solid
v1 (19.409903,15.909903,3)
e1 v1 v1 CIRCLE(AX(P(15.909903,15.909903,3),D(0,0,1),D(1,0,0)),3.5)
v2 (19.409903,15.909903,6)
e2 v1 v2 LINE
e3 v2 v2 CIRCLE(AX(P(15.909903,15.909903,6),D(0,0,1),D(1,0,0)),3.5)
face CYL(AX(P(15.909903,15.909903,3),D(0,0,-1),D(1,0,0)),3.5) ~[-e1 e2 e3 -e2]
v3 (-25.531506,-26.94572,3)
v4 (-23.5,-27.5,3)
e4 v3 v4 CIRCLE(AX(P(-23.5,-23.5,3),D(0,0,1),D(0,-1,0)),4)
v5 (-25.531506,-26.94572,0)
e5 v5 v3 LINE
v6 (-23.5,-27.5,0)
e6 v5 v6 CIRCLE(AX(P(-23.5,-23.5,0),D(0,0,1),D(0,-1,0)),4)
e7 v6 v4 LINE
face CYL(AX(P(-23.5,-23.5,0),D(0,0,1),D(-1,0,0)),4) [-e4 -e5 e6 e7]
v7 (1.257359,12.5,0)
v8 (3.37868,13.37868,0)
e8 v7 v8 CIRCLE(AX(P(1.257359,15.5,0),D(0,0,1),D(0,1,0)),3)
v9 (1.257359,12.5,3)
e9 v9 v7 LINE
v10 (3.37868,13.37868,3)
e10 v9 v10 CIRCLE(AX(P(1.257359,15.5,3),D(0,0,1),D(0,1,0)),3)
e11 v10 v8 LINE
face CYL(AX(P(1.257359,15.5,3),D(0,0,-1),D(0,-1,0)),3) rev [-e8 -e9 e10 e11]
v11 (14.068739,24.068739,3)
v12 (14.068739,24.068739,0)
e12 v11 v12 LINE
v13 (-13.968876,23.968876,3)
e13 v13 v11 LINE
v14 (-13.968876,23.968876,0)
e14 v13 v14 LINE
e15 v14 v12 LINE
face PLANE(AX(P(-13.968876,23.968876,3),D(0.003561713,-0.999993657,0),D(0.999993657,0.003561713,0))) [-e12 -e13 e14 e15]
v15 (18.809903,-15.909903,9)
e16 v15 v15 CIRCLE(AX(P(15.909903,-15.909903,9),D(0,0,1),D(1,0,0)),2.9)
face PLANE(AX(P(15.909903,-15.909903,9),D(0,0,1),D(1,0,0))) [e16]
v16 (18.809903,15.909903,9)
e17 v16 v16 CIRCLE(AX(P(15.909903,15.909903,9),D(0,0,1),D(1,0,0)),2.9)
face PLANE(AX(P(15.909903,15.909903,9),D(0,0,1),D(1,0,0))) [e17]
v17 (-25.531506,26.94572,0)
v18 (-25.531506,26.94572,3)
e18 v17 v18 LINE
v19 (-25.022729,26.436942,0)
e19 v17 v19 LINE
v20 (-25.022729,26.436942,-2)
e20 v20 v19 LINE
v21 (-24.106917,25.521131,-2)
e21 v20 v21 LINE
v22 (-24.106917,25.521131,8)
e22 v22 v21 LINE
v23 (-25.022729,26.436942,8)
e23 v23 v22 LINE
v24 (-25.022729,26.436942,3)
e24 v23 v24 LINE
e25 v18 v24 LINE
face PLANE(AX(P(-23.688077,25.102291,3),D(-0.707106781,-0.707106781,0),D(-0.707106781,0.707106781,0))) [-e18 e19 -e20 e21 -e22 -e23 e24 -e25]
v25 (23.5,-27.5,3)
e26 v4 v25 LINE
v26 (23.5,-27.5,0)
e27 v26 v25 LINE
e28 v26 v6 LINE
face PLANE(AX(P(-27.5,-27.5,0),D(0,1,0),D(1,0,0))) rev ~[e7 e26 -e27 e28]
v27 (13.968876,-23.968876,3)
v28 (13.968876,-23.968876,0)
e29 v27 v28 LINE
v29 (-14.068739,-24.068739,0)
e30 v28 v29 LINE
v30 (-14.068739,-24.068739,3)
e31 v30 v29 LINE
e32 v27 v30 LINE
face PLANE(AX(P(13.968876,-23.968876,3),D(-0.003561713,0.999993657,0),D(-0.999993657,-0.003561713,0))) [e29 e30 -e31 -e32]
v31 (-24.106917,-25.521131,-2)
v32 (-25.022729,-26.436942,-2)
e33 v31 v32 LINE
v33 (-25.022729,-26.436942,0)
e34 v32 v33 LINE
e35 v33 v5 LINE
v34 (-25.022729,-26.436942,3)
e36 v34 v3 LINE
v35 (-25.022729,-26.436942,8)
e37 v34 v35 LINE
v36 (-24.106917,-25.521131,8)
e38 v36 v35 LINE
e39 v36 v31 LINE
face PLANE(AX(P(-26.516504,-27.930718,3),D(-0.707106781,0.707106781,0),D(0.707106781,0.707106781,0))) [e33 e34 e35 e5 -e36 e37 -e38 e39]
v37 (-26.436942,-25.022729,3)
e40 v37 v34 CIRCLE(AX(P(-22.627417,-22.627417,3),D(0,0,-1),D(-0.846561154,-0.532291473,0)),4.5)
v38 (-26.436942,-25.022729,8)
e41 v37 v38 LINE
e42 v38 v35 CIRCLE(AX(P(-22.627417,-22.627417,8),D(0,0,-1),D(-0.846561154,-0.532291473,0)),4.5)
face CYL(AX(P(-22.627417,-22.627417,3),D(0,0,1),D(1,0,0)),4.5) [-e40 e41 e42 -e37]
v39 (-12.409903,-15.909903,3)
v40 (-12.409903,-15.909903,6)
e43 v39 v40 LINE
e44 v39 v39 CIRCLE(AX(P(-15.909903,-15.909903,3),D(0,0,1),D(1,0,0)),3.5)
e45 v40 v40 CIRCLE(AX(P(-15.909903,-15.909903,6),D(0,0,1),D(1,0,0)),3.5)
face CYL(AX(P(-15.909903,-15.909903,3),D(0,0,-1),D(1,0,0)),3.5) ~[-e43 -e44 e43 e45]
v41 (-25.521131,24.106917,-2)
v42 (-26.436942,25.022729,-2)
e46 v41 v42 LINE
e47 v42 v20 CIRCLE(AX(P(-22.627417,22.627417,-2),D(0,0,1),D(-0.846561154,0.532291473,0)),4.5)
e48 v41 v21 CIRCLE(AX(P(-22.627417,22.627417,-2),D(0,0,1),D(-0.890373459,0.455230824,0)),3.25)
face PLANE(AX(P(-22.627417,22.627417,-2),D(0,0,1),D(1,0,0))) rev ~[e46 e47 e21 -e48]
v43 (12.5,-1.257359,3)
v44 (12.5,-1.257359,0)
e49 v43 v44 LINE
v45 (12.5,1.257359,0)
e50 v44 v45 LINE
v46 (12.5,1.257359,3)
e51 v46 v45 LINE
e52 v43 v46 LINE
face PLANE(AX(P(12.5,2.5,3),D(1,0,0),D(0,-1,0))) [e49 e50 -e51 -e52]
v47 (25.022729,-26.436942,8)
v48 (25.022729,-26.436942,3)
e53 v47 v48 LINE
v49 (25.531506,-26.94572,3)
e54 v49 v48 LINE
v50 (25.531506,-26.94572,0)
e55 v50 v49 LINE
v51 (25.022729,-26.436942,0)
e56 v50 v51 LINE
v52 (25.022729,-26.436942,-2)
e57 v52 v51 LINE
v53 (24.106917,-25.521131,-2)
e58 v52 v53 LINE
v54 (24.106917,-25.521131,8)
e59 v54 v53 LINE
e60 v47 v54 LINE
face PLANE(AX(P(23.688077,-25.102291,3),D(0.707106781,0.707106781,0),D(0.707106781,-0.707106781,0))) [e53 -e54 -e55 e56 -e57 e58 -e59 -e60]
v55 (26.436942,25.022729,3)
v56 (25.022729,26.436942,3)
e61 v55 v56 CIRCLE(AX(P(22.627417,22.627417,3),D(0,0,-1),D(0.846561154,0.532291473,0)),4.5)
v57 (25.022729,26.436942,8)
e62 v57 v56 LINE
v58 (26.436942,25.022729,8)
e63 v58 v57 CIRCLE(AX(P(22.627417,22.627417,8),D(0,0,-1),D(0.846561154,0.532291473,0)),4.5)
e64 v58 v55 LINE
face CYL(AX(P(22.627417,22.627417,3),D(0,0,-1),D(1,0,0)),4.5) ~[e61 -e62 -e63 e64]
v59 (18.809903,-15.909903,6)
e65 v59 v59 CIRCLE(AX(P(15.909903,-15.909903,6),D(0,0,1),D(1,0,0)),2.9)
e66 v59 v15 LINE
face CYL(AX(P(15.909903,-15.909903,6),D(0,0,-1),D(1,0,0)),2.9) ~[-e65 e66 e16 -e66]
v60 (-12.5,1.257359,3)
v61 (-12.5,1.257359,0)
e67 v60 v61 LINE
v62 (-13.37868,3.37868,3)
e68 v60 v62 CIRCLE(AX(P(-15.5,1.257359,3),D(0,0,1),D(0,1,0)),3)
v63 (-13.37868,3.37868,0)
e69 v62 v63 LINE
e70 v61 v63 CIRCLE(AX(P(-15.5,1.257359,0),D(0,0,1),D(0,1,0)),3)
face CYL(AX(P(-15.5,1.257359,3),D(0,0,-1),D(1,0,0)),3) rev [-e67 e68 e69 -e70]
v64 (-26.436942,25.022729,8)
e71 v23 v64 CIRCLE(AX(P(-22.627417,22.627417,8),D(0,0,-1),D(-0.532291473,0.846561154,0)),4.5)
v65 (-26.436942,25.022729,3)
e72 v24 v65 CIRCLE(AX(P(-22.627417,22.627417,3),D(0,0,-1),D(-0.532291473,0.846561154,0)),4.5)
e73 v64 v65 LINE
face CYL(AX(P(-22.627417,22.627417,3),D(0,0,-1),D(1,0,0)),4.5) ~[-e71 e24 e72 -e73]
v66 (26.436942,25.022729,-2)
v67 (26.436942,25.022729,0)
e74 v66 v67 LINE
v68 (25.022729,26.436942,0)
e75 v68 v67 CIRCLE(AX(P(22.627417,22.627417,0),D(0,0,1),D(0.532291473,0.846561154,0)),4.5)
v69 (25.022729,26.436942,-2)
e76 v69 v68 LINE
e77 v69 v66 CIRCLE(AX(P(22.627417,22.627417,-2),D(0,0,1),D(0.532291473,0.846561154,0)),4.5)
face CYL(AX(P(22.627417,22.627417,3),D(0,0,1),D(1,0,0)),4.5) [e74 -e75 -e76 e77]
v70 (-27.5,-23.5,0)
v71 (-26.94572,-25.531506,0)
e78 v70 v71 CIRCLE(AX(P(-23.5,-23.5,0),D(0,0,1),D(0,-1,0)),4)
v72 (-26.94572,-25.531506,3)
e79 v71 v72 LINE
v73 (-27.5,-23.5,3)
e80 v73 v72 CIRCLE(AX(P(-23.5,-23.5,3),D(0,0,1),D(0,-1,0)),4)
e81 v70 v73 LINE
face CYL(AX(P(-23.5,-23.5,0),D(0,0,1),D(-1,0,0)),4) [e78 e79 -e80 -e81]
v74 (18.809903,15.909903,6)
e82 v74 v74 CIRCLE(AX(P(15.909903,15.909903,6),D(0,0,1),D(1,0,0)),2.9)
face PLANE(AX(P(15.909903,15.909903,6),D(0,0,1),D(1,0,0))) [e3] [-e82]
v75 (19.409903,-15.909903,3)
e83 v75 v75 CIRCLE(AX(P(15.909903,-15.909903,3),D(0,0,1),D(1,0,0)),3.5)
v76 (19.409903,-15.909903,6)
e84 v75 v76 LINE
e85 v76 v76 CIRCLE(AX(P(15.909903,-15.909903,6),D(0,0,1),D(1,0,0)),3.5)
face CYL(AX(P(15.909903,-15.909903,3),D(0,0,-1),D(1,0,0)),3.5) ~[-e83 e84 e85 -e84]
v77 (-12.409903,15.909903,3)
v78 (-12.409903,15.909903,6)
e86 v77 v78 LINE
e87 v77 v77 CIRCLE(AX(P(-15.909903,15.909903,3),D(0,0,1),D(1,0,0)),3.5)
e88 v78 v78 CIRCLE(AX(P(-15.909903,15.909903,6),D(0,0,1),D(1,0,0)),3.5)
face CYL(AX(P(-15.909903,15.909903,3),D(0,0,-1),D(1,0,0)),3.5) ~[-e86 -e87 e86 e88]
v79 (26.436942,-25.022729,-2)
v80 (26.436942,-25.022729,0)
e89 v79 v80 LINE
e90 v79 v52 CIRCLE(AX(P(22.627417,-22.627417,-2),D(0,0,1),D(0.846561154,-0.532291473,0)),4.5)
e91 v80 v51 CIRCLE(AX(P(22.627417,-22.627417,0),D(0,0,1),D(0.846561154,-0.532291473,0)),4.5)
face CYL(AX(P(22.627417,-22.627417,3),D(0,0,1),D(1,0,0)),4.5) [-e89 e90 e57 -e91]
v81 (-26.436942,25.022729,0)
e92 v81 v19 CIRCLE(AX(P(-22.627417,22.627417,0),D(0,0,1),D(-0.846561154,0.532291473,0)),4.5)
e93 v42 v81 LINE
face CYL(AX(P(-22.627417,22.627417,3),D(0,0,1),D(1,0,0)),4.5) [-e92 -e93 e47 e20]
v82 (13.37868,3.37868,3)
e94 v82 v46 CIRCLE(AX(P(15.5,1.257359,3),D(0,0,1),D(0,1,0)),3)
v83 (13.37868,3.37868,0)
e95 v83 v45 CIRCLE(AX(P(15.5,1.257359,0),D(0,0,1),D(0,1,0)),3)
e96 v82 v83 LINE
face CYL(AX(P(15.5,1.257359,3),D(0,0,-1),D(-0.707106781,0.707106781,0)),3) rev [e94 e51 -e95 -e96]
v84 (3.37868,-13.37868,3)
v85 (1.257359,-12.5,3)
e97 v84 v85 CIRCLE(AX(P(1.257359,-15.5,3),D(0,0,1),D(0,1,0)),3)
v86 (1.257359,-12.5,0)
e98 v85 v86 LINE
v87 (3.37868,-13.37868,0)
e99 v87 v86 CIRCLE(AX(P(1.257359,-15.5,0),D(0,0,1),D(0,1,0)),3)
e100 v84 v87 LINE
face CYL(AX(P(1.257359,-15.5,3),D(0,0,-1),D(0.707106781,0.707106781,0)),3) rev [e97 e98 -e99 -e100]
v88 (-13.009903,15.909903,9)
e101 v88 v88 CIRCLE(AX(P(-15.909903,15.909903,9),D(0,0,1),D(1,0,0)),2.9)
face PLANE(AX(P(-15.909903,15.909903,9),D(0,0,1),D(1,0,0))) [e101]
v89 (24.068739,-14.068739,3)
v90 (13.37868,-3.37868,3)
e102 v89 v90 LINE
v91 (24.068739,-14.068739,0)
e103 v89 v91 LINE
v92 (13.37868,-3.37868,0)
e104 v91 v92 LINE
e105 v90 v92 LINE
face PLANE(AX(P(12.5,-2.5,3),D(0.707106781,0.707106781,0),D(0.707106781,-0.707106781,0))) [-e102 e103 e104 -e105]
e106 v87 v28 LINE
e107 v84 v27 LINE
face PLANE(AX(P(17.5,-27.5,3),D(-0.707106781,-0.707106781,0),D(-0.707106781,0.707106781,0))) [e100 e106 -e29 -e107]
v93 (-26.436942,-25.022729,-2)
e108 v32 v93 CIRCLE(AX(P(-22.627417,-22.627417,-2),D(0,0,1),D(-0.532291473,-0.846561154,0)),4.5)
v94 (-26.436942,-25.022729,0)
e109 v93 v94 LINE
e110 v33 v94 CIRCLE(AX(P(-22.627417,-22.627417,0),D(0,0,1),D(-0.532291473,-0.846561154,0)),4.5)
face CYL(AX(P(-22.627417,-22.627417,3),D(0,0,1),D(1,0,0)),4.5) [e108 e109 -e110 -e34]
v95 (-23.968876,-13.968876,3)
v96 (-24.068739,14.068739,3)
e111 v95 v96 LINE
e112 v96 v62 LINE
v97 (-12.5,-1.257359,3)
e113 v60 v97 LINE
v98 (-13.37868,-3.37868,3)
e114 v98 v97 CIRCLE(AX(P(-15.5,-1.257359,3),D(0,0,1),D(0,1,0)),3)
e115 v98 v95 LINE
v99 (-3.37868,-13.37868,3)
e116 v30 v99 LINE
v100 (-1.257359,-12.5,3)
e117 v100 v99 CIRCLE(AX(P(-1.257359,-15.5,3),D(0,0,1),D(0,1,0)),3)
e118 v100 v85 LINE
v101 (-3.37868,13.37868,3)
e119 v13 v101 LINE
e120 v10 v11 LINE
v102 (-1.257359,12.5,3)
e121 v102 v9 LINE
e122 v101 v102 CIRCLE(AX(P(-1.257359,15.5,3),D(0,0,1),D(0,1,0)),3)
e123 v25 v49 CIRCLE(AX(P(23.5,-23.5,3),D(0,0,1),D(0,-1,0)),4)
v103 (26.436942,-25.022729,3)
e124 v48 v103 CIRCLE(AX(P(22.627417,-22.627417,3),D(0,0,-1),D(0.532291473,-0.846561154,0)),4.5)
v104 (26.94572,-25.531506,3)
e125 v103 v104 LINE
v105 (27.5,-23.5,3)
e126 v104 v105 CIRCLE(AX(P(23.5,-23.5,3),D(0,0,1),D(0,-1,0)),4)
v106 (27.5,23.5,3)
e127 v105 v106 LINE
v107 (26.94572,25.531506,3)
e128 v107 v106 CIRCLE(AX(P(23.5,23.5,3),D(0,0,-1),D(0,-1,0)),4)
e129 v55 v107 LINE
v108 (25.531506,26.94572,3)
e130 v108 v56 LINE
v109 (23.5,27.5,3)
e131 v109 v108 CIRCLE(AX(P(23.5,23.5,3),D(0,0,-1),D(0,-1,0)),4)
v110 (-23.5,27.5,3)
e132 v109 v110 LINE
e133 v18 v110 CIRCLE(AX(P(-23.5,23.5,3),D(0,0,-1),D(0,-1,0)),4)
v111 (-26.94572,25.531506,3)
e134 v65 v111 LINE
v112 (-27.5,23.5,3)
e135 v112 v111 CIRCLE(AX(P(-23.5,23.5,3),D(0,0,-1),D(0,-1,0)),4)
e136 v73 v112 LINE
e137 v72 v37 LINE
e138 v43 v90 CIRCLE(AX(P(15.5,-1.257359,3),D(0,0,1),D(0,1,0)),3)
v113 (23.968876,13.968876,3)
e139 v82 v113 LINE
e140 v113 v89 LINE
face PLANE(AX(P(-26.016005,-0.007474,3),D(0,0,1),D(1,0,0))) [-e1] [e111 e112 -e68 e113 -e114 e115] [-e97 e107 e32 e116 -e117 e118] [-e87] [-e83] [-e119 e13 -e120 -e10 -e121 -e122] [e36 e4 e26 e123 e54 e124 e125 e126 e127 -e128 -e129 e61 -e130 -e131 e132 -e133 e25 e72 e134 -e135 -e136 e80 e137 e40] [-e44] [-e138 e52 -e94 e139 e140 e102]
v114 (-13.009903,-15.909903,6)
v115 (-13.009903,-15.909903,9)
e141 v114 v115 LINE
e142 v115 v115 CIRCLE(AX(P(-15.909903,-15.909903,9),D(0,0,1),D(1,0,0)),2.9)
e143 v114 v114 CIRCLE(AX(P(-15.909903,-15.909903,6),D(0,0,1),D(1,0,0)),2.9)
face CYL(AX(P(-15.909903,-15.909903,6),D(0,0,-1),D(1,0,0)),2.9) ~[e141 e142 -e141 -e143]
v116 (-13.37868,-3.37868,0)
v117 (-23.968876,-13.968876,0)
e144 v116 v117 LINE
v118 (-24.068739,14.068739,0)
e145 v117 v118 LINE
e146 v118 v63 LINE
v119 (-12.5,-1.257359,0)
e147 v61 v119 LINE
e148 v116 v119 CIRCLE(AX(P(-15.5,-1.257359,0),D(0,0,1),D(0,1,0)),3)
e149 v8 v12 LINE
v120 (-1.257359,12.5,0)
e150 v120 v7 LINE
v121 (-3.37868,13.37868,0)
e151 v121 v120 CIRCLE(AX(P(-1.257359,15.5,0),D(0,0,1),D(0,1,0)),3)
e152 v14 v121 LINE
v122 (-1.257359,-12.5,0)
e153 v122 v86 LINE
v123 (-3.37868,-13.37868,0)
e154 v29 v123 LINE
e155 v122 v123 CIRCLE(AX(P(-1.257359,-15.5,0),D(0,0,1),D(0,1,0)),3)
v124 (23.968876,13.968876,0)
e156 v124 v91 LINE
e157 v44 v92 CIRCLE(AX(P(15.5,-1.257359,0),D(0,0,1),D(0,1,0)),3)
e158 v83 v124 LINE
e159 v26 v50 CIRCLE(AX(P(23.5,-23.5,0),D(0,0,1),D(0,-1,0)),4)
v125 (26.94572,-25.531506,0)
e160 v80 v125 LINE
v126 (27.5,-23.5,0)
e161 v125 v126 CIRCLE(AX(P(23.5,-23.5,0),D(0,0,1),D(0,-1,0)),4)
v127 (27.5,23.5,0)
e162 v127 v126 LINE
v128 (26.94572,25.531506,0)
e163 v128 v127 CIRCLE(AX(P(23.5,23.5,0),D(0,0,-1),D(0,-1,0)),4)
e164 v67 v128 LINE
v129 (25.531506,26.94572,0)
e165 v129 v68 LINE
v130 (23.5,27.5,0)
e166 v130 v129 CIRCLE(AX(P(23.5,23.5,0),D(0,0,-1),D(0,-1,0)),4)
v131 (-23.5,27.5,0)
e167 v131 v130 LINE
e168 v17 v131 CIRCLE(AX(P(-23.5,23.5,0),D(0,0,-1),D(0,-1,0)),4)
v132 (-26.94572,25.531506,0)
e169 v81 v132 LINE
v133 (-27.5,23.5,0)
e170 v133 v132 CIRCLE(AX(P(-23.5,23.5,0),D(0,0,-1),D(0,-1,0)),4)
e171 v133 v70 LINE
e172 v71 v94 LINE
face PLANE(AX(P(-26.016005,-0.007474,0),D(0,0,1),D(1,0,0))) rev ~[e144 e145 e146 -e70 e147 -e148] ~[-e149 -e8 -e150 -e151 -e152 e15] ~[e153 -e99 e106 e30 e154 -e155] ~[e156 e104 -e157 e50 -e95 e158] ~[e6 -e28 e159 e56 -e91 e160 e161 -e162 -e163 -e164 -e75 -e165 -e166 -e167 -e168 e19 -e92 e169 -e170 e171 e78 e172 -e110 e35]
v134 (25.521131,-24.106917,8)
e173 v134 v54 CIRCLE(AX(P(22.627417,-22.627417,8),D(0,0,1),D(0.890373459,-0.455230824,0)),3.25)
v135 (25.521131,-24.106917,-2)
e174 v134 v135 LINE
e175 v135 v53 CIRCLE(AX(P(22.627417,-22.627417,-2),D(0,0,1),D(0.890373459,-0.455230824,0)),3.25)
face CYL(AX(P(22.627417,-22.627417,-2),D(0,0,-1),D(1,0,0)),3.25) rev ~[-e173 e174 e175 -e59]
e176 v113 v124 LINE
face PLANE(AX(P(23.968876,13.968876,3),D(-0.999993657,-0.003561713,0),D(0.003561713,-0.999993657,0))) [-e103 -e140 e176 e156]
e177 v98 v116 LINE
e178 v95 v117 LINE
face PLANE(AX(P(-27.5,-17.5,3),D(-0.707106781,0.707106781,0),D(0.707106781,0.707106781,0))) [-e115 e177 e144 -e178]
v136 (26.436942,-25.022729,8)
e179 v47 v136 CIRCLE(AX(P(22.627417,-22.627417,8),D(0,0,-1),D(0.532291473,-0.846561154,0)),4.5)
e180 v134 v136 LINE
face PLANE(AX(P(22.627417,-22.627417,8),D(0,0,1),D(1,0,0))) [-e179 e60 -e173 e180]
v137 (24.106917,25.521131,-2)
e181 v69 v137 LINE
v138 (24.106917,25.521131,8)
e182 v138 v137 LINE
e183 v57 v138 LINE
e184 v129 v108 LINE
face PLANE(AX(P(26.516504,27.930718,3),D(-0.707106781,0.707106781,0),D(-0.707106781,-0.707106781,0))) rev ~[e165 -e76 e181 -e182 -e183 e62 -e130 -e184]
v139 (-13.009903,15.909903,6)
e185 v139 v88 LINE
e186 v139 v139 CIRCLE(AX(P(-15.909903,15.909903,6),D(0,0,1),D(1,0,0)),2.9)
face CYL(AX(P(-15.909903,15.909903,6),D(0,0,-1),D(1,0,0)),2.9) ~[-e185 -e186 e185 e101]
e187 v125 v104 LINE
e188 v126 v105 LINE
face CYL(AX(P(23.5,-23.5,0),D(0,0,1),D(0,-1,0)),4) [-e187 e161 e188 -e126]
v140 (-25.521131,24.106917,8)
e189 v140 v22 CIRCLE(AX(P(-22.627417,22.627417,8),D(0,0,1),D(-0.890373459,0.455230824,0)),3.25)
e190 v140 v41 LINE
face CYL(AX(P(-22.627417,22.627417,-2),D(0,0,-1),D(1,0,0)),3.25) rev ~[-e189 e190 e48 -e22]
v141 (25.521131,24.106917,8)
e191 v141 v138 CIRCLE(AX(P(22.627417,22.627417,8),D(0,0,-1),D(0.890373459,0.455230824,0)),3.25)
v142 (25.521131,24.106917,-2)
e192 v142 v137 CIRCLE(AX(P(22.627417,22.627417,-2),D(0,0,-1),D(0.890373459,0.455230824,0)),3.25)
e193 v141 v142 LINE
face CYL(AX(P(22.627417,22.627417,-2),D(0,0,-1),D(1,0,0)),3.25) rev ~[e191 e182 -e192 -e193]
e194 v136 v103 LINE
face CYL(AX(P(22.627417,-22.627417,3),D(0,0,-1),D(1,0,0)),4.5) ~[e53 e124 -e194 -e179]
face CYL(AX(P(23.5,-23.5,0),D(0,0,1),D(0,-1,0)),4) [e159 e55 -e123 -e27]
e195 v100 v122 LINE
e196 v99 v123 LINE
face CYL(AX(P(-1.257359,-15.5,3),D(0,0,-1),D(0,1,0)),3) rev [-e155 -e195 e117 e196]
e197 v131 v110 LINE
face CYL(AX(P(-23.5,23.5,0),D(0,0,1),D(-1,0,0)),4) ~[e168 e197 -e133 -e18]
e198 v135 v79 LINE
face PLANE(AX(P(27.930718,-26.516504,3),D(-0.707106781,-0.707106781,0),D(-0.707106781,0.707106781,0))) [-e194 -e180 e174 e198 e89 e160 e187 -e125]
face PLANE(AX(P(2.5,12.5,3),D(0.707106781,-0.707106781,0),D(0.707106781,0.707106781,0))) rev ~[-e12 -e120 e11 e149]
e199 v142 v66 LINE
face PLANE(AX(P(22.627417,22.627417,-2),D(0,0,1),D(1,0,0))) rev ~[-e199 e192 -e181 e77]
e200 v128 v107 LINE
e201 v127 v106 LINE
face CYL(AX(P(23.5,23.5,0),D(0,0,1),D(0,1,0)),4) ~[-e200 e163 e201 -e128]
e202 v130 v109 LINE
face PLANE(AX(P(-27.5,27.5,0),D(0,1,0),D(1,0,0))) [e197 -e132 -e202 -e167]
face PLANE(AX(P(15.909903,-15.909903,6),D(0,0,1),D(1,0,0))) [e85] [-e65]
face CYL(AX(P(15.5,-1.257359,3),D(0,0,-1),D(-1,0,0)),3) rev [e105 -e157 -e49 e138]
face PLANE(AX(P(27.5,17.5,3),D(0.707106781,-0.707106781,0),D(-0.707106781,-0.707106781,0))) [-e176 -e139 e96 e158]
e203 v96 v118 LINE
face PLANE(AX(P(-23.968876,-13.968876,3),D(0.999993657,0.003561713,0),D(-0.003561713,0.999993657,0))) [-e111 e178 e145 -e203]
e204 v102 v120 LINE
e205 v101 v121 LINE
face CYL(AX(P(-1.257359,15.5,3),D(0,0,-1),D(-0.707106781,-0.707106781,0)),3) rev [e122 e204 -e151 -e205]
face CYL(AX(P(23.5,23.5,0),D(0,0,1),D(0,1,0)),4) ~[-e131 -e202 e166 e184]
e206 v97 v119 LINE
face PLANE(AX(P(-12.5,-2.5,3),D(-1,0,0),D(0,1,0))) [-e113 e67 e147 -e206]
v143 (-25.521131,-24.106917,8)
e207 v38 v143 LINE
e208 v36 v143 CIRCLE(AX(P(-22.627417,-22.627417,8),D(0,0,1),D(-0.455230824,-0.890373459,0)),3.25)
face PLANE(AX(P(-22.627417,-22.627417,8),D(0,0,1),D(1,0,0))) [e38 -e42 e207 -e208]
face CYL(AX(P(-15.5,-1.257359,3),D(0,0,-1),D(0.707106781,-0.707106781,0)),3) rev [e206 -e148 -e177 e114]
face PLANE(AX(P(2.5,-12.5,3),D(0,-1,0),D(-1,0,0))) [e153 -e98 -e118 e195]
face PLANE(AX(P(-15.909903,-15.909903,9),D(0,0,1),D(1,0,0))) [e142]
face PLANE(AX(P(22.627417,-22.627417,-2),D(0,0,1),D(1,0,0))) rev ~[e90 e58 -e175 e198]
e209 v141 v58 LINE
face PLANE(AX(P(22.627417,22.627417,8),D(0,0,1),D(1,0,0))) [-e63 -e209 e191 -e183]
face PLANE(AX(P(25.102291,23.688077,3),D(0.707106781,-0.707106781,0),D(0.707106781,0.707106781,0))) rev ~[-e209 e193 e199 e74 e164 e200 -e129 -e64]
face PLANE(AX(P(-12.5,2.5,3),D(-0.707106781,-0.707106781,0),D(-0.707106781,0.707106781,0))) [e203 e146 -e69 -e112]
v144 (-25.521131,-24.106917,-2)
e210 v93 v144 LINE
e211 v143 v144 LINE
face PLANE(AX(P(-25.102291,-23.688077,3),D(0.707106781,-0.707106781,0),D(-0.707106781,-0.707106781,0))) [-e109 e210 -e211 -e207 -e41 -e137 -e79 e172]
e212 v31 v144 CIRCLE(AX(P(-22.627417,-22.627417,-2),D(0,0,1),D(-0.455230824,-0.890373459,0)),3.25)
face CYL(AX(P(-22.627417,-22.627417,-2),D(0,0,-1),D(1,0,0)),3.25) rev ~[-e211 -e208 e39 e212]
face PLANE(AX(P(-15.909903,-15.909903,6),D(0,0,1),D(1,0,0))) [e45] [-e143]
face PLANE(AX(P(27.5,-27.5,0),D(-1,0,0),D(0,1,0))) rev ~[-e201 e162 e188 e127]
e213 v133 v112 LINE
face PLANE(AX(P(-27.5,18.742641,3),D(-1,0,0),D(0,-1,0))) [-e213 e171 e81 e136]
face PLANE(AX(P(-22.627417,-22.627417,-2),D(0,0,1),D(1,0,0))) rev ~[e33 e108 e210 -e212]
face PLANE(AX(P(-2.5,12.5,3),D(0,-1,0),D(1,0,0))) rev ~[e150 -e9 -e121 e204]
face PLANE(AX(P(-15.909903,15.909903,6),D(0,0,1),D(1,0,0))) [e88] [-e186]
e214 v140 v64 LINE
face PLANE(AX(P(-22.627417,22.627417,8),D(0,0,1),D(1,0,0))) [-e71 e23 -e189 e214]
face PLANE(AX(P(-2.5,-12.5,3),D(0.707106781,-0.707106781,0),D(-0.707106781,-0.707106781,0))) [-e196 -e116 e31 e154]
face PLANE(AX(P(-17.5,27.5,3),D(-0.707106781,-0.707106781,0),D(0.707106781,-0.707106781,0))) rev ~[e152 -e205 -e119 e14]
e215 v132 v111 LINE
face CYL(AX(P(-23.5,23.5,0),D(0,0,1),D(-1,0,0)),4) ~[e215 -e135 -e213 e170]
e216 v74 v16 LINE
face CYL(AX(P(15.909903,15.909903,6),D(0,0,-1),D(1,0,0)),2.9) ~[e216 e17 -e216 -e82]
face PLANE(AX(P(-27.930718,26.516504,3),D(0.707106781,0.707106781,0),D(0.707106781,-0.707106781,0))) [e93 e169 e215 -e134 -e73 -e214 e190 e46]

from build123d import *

# Parameters (mm, degrees)
F0_W      = 55
F0_H      = 55
F1_DEPTH  = 3
F2_R      = 3.5
F3_DEPTH  = 3
F4_R      = 2.9
F5_DEPTH  = 3
F6_R      = 4.5
F7_DEPTH  = 5
F8_R      = 3.25
F9_DEPTH  = 25
F10_R     = 4
F12_DEPTH = 25
F13_R     = 3
F15_DEPTH = 3
F17_DEPTH = 20


with BuildPart() as f1:
    # F0 (on Top) → F1 (new body)
    with BuildSketch(Plane.XY):
        Rectangle(F0_W, F0_H)
    extrude(amount=F1_DEPTH)

    # F2 (on face) → F3 (join)
    with BuildSketch(Plane.XY.offset(3)):
        with Locations((-15.9099025767, 15.9099025767)):
            Circle(F2_R)
        with Locations((15.9099025767, 15.9099025767)):
            Circle(F2_R)
        with Locations((-15.9099025767, -15.9099025767)):
            Circle(F2_R)
        with Locations((15.9099025767, -15.9099025767)):
            Circle(F2_R)
    extrude(amount=F3_DEPTH)

    # F4 (on face) → F5 (join)
    with BuildSketch(Plane.XY.offset(6)):
        with Locations((-15.9099025767, 15.9099025767)):
            Circle(F4_R)
        with Locations((15.9099025767, 15.9099025767)):
            Circle(F4_R)
        with Locations((-15.9099025767, -15.9099025767)):
            Circle(F4_R)
        with Locations((15.9099025767, -15.9099025767)):
            Circle(F4_R)
    extrude(amount=F5_DEPTH)

    # F6 (on face) → F7 (join, symmetric)
    with BuildSketch(Plane.XY.offset(3)):
        with Locations((-22.627416998, 22.627416998)):
            Circle(F6_R)
        with Locations((22.627416998, 22.627416998)):
            Circle(F6_R)
        with Locations((22.627416998, -22.627416998)):
            Circle(F6_R)
        with Locations((-22.627416998, -22.627416998)):
            Circle(F6_R)
    extrude(amount=F7_DEPTH, both=True)

    # F8 (on face) → F9 (cut, symmetric)
    with BuildSketch(Plane(origin=(0, 0, -2), x_dir=(1, 0, 0), z_dir=(0, 0, -1))):
        with Locations((-22.627416998, 22.627416998)):
            Circle(F8_R)
        with Locations((22.627416998, 22.627416998)):
            Circle(F8_R)
        with Locations((-22.627416998, -22.627416998)):
            Circle(F8_R)
        with Locations((22.627416998, -22.627416998)):
            Circle(F8_R)
    extrude(amount=F9_DEPTH, both=True, mode=Mode.SUBTRACT)

    # F10
    f10_edges = [f1.edges().sort_by_distance(p)[0] for p in [
        (27.5, -27.5, 1.5),
        (-27.5, -27.5, 1.5),
        (-27.5, 27.5, 1.5),
        (27.5, 27.5, 1.5),
    ]]
    fillet(f10_edges, radius=F10_R)

    # F11 (on face) → F12 (cut, symmetric)
    with BuildSketch(Plane.XY.offset(3)):
        Polygon((-12.5, 2.5), (-27.5, 17.5), (-27.5, -17.5), (-12.5, -2.5), align=None)
        Polygon((-2.5, -12.5), (-17.5, -27.5), (17.5, -27.5), (2.5, -12.5), align=None)
        Polygon((12.5, -2.5), (27.5, -17.5), (27.5, 17.5), (12.5, 2.5), align=None)
        Polygon((2.5, 12.5), (17.5, 27.5), (-17.5, 27.5), (-2.5, 12.5), align=None)
    extrude(amount=F12_DEPTH, both=True, mode=Mode.SUBTRACT)

    # F13
    f13_edges = [f1.edges().sort_by_distance(p)[0] for p in [
        (27.5, 17.5, 1.5),
        (12.5, 2.5, 1.5),
        (27.5, -17.5, 1.5),
        (17.5, -27.5, 1.5),
        (-17.5, -27.5, 1.5),
        (-2.5, -12.5, 1.5),
        (2.5, -12.5, 1.5),
        (-27.5, -17.5, 1.5),
        (-12.5, -2.5, 1.5),
        (-12.5, 2.5, 1.5),
        (-27.5, 17.5, 1.5),
        (-17.5, 27.5, 1.5),
        (-2.5, 12.5, 1.5),
        (2.5, 12.5, 1.5),
        (17.5, 27.5, 1.5),
        (12.5, -2.5, 1.5),
    ]]
    fillet(f13_edges, radius=F13_R)

    # F14 (on face) → F15 (join)
    with BuildSketch(Plane.XY.offset(3)):
        with BuildLine():
            ThreePointArc((-26.6213203436, 16.6213203436), (-27.2716385975, 17.59459039), (-27.5, 18.7426406871))
            Line((-27.5, 18.7426406871), (-27.5, -18.7426406871))
            ThreePointArc((-27.5, -18.7426406871), (-27.2716385975, -17.59459039), (-26.6213203436, -16.6213203436))
            Line((-26.6213203436, -16.6213203436), (-23.9688763441, -13.9688763441))
            Line((-23.9688763441, -13.9688763441), (-24.0687389298, 14.0687389298))
            Line((-24.0687389298, 14.0687389298), (-26.6213203436, 16.6213203436))
        make_face()
        with BuildLine():
            Line((18.7426406871, 27.5), (-18.7426406871, 27.5))
            ThreePointArc((-18.7426406871, 27.5), (-17.59459039, 27.2716385975), (-16.6213203436, 26.6213203436))
            Line((-16.6213203436, 26.6213203436), (-13.9688763441, 23.9688763441))
            Line((-13.9688763441, 23.9688763441), (14.0687389298, 24.0687389298))
            Line((14.0687389298, 24.0687389298), (16.6213203436, 26.6213203436))
            ThreePointArc((16.6213203436, 26.6213203436), (17.59459039, 27.2716385975), (18.7426406871, 27.5))
        make_face()
        with BuildLine():
            Line((27.5, -18.7426406871), (27.5, 18.7426406871))
            ThreePointArc((27.5, 18.7426406871), (27.2716385975, 17.59459039), (26.6213203436, 16.6213203436))
            Line((26.6213203436, 16.6213203436), (23.9688763441, 13.9688763441))
            Line((23.9688763441, 13.9688763441), (24.0687389298, -14.0687389298))
            Line((24.0687389298, -14.0687389298), (26.6213203436, -16.6213203436))
            ThreePointArc((26.6213203436, -16.6213203436), (27.2716385975, -17.59459039), (27.5, -18.7426406871))
        make_face()
        with BuildLine():
            ThreePointArc((-16.6213203436, -26.6213203436), (-17.59459039, -27.2716385975), (-18.7426406871, -27.5))
            Line((-18.7426406871, -27.5), (18.7426406871, -27.5))
            ThreePointArc((18.7426406871, -27.5), (17.59459039, -27.2716385975), (16.6213203436, -26.6213203436))
            Line((16.6213203436, -26.6213203436), (13.9688763441, -23.9688763441))
            Line((13.9688763441, -23.9688763441), (-14.0687389298, -24.0687389298))
            Line((-14.0687389298, -24.0687389298), (-16.6213203436, -26.6213203436))
        make_face()
    extrude(amount=-F15_DEPTH)

    # F16 (on face) → F17 (cut, symmetric)
    with BuildSketch(Plane.XY.offset(3)):
        Polygon((-27.9307178569, 26.5165042945), (-25.1022907321, 23.6880771697), (-23.6880771697, 25.1022907321), (-26.5165042945, 27.9307178569), align=None)
        Polygon((-23.6880771697, -25.1022907321), (-25.1022907321, -23.6880771697), (-27.9307178569, -26.5165042945), (-26.5165042945, -27.9307178569), align=None)
        Polygon((25.1022907321, -23.6880771697), (23.6880771697, -25.1022907321), (26.5165042945, -27.9307178569), (27.9307178569, -26.5165042945), align=None)
        Polygon((23.6880771697, 25.1022907321), (25.1022907321, 23.6880771697), (27.9307178569, 26.5165042945), (26.5165042945, 27.9307178569), align=None)
    extrude(amount=F17_DEPTH, both=True, mode=Mode.SUBTRACT)


solid = f1.part
